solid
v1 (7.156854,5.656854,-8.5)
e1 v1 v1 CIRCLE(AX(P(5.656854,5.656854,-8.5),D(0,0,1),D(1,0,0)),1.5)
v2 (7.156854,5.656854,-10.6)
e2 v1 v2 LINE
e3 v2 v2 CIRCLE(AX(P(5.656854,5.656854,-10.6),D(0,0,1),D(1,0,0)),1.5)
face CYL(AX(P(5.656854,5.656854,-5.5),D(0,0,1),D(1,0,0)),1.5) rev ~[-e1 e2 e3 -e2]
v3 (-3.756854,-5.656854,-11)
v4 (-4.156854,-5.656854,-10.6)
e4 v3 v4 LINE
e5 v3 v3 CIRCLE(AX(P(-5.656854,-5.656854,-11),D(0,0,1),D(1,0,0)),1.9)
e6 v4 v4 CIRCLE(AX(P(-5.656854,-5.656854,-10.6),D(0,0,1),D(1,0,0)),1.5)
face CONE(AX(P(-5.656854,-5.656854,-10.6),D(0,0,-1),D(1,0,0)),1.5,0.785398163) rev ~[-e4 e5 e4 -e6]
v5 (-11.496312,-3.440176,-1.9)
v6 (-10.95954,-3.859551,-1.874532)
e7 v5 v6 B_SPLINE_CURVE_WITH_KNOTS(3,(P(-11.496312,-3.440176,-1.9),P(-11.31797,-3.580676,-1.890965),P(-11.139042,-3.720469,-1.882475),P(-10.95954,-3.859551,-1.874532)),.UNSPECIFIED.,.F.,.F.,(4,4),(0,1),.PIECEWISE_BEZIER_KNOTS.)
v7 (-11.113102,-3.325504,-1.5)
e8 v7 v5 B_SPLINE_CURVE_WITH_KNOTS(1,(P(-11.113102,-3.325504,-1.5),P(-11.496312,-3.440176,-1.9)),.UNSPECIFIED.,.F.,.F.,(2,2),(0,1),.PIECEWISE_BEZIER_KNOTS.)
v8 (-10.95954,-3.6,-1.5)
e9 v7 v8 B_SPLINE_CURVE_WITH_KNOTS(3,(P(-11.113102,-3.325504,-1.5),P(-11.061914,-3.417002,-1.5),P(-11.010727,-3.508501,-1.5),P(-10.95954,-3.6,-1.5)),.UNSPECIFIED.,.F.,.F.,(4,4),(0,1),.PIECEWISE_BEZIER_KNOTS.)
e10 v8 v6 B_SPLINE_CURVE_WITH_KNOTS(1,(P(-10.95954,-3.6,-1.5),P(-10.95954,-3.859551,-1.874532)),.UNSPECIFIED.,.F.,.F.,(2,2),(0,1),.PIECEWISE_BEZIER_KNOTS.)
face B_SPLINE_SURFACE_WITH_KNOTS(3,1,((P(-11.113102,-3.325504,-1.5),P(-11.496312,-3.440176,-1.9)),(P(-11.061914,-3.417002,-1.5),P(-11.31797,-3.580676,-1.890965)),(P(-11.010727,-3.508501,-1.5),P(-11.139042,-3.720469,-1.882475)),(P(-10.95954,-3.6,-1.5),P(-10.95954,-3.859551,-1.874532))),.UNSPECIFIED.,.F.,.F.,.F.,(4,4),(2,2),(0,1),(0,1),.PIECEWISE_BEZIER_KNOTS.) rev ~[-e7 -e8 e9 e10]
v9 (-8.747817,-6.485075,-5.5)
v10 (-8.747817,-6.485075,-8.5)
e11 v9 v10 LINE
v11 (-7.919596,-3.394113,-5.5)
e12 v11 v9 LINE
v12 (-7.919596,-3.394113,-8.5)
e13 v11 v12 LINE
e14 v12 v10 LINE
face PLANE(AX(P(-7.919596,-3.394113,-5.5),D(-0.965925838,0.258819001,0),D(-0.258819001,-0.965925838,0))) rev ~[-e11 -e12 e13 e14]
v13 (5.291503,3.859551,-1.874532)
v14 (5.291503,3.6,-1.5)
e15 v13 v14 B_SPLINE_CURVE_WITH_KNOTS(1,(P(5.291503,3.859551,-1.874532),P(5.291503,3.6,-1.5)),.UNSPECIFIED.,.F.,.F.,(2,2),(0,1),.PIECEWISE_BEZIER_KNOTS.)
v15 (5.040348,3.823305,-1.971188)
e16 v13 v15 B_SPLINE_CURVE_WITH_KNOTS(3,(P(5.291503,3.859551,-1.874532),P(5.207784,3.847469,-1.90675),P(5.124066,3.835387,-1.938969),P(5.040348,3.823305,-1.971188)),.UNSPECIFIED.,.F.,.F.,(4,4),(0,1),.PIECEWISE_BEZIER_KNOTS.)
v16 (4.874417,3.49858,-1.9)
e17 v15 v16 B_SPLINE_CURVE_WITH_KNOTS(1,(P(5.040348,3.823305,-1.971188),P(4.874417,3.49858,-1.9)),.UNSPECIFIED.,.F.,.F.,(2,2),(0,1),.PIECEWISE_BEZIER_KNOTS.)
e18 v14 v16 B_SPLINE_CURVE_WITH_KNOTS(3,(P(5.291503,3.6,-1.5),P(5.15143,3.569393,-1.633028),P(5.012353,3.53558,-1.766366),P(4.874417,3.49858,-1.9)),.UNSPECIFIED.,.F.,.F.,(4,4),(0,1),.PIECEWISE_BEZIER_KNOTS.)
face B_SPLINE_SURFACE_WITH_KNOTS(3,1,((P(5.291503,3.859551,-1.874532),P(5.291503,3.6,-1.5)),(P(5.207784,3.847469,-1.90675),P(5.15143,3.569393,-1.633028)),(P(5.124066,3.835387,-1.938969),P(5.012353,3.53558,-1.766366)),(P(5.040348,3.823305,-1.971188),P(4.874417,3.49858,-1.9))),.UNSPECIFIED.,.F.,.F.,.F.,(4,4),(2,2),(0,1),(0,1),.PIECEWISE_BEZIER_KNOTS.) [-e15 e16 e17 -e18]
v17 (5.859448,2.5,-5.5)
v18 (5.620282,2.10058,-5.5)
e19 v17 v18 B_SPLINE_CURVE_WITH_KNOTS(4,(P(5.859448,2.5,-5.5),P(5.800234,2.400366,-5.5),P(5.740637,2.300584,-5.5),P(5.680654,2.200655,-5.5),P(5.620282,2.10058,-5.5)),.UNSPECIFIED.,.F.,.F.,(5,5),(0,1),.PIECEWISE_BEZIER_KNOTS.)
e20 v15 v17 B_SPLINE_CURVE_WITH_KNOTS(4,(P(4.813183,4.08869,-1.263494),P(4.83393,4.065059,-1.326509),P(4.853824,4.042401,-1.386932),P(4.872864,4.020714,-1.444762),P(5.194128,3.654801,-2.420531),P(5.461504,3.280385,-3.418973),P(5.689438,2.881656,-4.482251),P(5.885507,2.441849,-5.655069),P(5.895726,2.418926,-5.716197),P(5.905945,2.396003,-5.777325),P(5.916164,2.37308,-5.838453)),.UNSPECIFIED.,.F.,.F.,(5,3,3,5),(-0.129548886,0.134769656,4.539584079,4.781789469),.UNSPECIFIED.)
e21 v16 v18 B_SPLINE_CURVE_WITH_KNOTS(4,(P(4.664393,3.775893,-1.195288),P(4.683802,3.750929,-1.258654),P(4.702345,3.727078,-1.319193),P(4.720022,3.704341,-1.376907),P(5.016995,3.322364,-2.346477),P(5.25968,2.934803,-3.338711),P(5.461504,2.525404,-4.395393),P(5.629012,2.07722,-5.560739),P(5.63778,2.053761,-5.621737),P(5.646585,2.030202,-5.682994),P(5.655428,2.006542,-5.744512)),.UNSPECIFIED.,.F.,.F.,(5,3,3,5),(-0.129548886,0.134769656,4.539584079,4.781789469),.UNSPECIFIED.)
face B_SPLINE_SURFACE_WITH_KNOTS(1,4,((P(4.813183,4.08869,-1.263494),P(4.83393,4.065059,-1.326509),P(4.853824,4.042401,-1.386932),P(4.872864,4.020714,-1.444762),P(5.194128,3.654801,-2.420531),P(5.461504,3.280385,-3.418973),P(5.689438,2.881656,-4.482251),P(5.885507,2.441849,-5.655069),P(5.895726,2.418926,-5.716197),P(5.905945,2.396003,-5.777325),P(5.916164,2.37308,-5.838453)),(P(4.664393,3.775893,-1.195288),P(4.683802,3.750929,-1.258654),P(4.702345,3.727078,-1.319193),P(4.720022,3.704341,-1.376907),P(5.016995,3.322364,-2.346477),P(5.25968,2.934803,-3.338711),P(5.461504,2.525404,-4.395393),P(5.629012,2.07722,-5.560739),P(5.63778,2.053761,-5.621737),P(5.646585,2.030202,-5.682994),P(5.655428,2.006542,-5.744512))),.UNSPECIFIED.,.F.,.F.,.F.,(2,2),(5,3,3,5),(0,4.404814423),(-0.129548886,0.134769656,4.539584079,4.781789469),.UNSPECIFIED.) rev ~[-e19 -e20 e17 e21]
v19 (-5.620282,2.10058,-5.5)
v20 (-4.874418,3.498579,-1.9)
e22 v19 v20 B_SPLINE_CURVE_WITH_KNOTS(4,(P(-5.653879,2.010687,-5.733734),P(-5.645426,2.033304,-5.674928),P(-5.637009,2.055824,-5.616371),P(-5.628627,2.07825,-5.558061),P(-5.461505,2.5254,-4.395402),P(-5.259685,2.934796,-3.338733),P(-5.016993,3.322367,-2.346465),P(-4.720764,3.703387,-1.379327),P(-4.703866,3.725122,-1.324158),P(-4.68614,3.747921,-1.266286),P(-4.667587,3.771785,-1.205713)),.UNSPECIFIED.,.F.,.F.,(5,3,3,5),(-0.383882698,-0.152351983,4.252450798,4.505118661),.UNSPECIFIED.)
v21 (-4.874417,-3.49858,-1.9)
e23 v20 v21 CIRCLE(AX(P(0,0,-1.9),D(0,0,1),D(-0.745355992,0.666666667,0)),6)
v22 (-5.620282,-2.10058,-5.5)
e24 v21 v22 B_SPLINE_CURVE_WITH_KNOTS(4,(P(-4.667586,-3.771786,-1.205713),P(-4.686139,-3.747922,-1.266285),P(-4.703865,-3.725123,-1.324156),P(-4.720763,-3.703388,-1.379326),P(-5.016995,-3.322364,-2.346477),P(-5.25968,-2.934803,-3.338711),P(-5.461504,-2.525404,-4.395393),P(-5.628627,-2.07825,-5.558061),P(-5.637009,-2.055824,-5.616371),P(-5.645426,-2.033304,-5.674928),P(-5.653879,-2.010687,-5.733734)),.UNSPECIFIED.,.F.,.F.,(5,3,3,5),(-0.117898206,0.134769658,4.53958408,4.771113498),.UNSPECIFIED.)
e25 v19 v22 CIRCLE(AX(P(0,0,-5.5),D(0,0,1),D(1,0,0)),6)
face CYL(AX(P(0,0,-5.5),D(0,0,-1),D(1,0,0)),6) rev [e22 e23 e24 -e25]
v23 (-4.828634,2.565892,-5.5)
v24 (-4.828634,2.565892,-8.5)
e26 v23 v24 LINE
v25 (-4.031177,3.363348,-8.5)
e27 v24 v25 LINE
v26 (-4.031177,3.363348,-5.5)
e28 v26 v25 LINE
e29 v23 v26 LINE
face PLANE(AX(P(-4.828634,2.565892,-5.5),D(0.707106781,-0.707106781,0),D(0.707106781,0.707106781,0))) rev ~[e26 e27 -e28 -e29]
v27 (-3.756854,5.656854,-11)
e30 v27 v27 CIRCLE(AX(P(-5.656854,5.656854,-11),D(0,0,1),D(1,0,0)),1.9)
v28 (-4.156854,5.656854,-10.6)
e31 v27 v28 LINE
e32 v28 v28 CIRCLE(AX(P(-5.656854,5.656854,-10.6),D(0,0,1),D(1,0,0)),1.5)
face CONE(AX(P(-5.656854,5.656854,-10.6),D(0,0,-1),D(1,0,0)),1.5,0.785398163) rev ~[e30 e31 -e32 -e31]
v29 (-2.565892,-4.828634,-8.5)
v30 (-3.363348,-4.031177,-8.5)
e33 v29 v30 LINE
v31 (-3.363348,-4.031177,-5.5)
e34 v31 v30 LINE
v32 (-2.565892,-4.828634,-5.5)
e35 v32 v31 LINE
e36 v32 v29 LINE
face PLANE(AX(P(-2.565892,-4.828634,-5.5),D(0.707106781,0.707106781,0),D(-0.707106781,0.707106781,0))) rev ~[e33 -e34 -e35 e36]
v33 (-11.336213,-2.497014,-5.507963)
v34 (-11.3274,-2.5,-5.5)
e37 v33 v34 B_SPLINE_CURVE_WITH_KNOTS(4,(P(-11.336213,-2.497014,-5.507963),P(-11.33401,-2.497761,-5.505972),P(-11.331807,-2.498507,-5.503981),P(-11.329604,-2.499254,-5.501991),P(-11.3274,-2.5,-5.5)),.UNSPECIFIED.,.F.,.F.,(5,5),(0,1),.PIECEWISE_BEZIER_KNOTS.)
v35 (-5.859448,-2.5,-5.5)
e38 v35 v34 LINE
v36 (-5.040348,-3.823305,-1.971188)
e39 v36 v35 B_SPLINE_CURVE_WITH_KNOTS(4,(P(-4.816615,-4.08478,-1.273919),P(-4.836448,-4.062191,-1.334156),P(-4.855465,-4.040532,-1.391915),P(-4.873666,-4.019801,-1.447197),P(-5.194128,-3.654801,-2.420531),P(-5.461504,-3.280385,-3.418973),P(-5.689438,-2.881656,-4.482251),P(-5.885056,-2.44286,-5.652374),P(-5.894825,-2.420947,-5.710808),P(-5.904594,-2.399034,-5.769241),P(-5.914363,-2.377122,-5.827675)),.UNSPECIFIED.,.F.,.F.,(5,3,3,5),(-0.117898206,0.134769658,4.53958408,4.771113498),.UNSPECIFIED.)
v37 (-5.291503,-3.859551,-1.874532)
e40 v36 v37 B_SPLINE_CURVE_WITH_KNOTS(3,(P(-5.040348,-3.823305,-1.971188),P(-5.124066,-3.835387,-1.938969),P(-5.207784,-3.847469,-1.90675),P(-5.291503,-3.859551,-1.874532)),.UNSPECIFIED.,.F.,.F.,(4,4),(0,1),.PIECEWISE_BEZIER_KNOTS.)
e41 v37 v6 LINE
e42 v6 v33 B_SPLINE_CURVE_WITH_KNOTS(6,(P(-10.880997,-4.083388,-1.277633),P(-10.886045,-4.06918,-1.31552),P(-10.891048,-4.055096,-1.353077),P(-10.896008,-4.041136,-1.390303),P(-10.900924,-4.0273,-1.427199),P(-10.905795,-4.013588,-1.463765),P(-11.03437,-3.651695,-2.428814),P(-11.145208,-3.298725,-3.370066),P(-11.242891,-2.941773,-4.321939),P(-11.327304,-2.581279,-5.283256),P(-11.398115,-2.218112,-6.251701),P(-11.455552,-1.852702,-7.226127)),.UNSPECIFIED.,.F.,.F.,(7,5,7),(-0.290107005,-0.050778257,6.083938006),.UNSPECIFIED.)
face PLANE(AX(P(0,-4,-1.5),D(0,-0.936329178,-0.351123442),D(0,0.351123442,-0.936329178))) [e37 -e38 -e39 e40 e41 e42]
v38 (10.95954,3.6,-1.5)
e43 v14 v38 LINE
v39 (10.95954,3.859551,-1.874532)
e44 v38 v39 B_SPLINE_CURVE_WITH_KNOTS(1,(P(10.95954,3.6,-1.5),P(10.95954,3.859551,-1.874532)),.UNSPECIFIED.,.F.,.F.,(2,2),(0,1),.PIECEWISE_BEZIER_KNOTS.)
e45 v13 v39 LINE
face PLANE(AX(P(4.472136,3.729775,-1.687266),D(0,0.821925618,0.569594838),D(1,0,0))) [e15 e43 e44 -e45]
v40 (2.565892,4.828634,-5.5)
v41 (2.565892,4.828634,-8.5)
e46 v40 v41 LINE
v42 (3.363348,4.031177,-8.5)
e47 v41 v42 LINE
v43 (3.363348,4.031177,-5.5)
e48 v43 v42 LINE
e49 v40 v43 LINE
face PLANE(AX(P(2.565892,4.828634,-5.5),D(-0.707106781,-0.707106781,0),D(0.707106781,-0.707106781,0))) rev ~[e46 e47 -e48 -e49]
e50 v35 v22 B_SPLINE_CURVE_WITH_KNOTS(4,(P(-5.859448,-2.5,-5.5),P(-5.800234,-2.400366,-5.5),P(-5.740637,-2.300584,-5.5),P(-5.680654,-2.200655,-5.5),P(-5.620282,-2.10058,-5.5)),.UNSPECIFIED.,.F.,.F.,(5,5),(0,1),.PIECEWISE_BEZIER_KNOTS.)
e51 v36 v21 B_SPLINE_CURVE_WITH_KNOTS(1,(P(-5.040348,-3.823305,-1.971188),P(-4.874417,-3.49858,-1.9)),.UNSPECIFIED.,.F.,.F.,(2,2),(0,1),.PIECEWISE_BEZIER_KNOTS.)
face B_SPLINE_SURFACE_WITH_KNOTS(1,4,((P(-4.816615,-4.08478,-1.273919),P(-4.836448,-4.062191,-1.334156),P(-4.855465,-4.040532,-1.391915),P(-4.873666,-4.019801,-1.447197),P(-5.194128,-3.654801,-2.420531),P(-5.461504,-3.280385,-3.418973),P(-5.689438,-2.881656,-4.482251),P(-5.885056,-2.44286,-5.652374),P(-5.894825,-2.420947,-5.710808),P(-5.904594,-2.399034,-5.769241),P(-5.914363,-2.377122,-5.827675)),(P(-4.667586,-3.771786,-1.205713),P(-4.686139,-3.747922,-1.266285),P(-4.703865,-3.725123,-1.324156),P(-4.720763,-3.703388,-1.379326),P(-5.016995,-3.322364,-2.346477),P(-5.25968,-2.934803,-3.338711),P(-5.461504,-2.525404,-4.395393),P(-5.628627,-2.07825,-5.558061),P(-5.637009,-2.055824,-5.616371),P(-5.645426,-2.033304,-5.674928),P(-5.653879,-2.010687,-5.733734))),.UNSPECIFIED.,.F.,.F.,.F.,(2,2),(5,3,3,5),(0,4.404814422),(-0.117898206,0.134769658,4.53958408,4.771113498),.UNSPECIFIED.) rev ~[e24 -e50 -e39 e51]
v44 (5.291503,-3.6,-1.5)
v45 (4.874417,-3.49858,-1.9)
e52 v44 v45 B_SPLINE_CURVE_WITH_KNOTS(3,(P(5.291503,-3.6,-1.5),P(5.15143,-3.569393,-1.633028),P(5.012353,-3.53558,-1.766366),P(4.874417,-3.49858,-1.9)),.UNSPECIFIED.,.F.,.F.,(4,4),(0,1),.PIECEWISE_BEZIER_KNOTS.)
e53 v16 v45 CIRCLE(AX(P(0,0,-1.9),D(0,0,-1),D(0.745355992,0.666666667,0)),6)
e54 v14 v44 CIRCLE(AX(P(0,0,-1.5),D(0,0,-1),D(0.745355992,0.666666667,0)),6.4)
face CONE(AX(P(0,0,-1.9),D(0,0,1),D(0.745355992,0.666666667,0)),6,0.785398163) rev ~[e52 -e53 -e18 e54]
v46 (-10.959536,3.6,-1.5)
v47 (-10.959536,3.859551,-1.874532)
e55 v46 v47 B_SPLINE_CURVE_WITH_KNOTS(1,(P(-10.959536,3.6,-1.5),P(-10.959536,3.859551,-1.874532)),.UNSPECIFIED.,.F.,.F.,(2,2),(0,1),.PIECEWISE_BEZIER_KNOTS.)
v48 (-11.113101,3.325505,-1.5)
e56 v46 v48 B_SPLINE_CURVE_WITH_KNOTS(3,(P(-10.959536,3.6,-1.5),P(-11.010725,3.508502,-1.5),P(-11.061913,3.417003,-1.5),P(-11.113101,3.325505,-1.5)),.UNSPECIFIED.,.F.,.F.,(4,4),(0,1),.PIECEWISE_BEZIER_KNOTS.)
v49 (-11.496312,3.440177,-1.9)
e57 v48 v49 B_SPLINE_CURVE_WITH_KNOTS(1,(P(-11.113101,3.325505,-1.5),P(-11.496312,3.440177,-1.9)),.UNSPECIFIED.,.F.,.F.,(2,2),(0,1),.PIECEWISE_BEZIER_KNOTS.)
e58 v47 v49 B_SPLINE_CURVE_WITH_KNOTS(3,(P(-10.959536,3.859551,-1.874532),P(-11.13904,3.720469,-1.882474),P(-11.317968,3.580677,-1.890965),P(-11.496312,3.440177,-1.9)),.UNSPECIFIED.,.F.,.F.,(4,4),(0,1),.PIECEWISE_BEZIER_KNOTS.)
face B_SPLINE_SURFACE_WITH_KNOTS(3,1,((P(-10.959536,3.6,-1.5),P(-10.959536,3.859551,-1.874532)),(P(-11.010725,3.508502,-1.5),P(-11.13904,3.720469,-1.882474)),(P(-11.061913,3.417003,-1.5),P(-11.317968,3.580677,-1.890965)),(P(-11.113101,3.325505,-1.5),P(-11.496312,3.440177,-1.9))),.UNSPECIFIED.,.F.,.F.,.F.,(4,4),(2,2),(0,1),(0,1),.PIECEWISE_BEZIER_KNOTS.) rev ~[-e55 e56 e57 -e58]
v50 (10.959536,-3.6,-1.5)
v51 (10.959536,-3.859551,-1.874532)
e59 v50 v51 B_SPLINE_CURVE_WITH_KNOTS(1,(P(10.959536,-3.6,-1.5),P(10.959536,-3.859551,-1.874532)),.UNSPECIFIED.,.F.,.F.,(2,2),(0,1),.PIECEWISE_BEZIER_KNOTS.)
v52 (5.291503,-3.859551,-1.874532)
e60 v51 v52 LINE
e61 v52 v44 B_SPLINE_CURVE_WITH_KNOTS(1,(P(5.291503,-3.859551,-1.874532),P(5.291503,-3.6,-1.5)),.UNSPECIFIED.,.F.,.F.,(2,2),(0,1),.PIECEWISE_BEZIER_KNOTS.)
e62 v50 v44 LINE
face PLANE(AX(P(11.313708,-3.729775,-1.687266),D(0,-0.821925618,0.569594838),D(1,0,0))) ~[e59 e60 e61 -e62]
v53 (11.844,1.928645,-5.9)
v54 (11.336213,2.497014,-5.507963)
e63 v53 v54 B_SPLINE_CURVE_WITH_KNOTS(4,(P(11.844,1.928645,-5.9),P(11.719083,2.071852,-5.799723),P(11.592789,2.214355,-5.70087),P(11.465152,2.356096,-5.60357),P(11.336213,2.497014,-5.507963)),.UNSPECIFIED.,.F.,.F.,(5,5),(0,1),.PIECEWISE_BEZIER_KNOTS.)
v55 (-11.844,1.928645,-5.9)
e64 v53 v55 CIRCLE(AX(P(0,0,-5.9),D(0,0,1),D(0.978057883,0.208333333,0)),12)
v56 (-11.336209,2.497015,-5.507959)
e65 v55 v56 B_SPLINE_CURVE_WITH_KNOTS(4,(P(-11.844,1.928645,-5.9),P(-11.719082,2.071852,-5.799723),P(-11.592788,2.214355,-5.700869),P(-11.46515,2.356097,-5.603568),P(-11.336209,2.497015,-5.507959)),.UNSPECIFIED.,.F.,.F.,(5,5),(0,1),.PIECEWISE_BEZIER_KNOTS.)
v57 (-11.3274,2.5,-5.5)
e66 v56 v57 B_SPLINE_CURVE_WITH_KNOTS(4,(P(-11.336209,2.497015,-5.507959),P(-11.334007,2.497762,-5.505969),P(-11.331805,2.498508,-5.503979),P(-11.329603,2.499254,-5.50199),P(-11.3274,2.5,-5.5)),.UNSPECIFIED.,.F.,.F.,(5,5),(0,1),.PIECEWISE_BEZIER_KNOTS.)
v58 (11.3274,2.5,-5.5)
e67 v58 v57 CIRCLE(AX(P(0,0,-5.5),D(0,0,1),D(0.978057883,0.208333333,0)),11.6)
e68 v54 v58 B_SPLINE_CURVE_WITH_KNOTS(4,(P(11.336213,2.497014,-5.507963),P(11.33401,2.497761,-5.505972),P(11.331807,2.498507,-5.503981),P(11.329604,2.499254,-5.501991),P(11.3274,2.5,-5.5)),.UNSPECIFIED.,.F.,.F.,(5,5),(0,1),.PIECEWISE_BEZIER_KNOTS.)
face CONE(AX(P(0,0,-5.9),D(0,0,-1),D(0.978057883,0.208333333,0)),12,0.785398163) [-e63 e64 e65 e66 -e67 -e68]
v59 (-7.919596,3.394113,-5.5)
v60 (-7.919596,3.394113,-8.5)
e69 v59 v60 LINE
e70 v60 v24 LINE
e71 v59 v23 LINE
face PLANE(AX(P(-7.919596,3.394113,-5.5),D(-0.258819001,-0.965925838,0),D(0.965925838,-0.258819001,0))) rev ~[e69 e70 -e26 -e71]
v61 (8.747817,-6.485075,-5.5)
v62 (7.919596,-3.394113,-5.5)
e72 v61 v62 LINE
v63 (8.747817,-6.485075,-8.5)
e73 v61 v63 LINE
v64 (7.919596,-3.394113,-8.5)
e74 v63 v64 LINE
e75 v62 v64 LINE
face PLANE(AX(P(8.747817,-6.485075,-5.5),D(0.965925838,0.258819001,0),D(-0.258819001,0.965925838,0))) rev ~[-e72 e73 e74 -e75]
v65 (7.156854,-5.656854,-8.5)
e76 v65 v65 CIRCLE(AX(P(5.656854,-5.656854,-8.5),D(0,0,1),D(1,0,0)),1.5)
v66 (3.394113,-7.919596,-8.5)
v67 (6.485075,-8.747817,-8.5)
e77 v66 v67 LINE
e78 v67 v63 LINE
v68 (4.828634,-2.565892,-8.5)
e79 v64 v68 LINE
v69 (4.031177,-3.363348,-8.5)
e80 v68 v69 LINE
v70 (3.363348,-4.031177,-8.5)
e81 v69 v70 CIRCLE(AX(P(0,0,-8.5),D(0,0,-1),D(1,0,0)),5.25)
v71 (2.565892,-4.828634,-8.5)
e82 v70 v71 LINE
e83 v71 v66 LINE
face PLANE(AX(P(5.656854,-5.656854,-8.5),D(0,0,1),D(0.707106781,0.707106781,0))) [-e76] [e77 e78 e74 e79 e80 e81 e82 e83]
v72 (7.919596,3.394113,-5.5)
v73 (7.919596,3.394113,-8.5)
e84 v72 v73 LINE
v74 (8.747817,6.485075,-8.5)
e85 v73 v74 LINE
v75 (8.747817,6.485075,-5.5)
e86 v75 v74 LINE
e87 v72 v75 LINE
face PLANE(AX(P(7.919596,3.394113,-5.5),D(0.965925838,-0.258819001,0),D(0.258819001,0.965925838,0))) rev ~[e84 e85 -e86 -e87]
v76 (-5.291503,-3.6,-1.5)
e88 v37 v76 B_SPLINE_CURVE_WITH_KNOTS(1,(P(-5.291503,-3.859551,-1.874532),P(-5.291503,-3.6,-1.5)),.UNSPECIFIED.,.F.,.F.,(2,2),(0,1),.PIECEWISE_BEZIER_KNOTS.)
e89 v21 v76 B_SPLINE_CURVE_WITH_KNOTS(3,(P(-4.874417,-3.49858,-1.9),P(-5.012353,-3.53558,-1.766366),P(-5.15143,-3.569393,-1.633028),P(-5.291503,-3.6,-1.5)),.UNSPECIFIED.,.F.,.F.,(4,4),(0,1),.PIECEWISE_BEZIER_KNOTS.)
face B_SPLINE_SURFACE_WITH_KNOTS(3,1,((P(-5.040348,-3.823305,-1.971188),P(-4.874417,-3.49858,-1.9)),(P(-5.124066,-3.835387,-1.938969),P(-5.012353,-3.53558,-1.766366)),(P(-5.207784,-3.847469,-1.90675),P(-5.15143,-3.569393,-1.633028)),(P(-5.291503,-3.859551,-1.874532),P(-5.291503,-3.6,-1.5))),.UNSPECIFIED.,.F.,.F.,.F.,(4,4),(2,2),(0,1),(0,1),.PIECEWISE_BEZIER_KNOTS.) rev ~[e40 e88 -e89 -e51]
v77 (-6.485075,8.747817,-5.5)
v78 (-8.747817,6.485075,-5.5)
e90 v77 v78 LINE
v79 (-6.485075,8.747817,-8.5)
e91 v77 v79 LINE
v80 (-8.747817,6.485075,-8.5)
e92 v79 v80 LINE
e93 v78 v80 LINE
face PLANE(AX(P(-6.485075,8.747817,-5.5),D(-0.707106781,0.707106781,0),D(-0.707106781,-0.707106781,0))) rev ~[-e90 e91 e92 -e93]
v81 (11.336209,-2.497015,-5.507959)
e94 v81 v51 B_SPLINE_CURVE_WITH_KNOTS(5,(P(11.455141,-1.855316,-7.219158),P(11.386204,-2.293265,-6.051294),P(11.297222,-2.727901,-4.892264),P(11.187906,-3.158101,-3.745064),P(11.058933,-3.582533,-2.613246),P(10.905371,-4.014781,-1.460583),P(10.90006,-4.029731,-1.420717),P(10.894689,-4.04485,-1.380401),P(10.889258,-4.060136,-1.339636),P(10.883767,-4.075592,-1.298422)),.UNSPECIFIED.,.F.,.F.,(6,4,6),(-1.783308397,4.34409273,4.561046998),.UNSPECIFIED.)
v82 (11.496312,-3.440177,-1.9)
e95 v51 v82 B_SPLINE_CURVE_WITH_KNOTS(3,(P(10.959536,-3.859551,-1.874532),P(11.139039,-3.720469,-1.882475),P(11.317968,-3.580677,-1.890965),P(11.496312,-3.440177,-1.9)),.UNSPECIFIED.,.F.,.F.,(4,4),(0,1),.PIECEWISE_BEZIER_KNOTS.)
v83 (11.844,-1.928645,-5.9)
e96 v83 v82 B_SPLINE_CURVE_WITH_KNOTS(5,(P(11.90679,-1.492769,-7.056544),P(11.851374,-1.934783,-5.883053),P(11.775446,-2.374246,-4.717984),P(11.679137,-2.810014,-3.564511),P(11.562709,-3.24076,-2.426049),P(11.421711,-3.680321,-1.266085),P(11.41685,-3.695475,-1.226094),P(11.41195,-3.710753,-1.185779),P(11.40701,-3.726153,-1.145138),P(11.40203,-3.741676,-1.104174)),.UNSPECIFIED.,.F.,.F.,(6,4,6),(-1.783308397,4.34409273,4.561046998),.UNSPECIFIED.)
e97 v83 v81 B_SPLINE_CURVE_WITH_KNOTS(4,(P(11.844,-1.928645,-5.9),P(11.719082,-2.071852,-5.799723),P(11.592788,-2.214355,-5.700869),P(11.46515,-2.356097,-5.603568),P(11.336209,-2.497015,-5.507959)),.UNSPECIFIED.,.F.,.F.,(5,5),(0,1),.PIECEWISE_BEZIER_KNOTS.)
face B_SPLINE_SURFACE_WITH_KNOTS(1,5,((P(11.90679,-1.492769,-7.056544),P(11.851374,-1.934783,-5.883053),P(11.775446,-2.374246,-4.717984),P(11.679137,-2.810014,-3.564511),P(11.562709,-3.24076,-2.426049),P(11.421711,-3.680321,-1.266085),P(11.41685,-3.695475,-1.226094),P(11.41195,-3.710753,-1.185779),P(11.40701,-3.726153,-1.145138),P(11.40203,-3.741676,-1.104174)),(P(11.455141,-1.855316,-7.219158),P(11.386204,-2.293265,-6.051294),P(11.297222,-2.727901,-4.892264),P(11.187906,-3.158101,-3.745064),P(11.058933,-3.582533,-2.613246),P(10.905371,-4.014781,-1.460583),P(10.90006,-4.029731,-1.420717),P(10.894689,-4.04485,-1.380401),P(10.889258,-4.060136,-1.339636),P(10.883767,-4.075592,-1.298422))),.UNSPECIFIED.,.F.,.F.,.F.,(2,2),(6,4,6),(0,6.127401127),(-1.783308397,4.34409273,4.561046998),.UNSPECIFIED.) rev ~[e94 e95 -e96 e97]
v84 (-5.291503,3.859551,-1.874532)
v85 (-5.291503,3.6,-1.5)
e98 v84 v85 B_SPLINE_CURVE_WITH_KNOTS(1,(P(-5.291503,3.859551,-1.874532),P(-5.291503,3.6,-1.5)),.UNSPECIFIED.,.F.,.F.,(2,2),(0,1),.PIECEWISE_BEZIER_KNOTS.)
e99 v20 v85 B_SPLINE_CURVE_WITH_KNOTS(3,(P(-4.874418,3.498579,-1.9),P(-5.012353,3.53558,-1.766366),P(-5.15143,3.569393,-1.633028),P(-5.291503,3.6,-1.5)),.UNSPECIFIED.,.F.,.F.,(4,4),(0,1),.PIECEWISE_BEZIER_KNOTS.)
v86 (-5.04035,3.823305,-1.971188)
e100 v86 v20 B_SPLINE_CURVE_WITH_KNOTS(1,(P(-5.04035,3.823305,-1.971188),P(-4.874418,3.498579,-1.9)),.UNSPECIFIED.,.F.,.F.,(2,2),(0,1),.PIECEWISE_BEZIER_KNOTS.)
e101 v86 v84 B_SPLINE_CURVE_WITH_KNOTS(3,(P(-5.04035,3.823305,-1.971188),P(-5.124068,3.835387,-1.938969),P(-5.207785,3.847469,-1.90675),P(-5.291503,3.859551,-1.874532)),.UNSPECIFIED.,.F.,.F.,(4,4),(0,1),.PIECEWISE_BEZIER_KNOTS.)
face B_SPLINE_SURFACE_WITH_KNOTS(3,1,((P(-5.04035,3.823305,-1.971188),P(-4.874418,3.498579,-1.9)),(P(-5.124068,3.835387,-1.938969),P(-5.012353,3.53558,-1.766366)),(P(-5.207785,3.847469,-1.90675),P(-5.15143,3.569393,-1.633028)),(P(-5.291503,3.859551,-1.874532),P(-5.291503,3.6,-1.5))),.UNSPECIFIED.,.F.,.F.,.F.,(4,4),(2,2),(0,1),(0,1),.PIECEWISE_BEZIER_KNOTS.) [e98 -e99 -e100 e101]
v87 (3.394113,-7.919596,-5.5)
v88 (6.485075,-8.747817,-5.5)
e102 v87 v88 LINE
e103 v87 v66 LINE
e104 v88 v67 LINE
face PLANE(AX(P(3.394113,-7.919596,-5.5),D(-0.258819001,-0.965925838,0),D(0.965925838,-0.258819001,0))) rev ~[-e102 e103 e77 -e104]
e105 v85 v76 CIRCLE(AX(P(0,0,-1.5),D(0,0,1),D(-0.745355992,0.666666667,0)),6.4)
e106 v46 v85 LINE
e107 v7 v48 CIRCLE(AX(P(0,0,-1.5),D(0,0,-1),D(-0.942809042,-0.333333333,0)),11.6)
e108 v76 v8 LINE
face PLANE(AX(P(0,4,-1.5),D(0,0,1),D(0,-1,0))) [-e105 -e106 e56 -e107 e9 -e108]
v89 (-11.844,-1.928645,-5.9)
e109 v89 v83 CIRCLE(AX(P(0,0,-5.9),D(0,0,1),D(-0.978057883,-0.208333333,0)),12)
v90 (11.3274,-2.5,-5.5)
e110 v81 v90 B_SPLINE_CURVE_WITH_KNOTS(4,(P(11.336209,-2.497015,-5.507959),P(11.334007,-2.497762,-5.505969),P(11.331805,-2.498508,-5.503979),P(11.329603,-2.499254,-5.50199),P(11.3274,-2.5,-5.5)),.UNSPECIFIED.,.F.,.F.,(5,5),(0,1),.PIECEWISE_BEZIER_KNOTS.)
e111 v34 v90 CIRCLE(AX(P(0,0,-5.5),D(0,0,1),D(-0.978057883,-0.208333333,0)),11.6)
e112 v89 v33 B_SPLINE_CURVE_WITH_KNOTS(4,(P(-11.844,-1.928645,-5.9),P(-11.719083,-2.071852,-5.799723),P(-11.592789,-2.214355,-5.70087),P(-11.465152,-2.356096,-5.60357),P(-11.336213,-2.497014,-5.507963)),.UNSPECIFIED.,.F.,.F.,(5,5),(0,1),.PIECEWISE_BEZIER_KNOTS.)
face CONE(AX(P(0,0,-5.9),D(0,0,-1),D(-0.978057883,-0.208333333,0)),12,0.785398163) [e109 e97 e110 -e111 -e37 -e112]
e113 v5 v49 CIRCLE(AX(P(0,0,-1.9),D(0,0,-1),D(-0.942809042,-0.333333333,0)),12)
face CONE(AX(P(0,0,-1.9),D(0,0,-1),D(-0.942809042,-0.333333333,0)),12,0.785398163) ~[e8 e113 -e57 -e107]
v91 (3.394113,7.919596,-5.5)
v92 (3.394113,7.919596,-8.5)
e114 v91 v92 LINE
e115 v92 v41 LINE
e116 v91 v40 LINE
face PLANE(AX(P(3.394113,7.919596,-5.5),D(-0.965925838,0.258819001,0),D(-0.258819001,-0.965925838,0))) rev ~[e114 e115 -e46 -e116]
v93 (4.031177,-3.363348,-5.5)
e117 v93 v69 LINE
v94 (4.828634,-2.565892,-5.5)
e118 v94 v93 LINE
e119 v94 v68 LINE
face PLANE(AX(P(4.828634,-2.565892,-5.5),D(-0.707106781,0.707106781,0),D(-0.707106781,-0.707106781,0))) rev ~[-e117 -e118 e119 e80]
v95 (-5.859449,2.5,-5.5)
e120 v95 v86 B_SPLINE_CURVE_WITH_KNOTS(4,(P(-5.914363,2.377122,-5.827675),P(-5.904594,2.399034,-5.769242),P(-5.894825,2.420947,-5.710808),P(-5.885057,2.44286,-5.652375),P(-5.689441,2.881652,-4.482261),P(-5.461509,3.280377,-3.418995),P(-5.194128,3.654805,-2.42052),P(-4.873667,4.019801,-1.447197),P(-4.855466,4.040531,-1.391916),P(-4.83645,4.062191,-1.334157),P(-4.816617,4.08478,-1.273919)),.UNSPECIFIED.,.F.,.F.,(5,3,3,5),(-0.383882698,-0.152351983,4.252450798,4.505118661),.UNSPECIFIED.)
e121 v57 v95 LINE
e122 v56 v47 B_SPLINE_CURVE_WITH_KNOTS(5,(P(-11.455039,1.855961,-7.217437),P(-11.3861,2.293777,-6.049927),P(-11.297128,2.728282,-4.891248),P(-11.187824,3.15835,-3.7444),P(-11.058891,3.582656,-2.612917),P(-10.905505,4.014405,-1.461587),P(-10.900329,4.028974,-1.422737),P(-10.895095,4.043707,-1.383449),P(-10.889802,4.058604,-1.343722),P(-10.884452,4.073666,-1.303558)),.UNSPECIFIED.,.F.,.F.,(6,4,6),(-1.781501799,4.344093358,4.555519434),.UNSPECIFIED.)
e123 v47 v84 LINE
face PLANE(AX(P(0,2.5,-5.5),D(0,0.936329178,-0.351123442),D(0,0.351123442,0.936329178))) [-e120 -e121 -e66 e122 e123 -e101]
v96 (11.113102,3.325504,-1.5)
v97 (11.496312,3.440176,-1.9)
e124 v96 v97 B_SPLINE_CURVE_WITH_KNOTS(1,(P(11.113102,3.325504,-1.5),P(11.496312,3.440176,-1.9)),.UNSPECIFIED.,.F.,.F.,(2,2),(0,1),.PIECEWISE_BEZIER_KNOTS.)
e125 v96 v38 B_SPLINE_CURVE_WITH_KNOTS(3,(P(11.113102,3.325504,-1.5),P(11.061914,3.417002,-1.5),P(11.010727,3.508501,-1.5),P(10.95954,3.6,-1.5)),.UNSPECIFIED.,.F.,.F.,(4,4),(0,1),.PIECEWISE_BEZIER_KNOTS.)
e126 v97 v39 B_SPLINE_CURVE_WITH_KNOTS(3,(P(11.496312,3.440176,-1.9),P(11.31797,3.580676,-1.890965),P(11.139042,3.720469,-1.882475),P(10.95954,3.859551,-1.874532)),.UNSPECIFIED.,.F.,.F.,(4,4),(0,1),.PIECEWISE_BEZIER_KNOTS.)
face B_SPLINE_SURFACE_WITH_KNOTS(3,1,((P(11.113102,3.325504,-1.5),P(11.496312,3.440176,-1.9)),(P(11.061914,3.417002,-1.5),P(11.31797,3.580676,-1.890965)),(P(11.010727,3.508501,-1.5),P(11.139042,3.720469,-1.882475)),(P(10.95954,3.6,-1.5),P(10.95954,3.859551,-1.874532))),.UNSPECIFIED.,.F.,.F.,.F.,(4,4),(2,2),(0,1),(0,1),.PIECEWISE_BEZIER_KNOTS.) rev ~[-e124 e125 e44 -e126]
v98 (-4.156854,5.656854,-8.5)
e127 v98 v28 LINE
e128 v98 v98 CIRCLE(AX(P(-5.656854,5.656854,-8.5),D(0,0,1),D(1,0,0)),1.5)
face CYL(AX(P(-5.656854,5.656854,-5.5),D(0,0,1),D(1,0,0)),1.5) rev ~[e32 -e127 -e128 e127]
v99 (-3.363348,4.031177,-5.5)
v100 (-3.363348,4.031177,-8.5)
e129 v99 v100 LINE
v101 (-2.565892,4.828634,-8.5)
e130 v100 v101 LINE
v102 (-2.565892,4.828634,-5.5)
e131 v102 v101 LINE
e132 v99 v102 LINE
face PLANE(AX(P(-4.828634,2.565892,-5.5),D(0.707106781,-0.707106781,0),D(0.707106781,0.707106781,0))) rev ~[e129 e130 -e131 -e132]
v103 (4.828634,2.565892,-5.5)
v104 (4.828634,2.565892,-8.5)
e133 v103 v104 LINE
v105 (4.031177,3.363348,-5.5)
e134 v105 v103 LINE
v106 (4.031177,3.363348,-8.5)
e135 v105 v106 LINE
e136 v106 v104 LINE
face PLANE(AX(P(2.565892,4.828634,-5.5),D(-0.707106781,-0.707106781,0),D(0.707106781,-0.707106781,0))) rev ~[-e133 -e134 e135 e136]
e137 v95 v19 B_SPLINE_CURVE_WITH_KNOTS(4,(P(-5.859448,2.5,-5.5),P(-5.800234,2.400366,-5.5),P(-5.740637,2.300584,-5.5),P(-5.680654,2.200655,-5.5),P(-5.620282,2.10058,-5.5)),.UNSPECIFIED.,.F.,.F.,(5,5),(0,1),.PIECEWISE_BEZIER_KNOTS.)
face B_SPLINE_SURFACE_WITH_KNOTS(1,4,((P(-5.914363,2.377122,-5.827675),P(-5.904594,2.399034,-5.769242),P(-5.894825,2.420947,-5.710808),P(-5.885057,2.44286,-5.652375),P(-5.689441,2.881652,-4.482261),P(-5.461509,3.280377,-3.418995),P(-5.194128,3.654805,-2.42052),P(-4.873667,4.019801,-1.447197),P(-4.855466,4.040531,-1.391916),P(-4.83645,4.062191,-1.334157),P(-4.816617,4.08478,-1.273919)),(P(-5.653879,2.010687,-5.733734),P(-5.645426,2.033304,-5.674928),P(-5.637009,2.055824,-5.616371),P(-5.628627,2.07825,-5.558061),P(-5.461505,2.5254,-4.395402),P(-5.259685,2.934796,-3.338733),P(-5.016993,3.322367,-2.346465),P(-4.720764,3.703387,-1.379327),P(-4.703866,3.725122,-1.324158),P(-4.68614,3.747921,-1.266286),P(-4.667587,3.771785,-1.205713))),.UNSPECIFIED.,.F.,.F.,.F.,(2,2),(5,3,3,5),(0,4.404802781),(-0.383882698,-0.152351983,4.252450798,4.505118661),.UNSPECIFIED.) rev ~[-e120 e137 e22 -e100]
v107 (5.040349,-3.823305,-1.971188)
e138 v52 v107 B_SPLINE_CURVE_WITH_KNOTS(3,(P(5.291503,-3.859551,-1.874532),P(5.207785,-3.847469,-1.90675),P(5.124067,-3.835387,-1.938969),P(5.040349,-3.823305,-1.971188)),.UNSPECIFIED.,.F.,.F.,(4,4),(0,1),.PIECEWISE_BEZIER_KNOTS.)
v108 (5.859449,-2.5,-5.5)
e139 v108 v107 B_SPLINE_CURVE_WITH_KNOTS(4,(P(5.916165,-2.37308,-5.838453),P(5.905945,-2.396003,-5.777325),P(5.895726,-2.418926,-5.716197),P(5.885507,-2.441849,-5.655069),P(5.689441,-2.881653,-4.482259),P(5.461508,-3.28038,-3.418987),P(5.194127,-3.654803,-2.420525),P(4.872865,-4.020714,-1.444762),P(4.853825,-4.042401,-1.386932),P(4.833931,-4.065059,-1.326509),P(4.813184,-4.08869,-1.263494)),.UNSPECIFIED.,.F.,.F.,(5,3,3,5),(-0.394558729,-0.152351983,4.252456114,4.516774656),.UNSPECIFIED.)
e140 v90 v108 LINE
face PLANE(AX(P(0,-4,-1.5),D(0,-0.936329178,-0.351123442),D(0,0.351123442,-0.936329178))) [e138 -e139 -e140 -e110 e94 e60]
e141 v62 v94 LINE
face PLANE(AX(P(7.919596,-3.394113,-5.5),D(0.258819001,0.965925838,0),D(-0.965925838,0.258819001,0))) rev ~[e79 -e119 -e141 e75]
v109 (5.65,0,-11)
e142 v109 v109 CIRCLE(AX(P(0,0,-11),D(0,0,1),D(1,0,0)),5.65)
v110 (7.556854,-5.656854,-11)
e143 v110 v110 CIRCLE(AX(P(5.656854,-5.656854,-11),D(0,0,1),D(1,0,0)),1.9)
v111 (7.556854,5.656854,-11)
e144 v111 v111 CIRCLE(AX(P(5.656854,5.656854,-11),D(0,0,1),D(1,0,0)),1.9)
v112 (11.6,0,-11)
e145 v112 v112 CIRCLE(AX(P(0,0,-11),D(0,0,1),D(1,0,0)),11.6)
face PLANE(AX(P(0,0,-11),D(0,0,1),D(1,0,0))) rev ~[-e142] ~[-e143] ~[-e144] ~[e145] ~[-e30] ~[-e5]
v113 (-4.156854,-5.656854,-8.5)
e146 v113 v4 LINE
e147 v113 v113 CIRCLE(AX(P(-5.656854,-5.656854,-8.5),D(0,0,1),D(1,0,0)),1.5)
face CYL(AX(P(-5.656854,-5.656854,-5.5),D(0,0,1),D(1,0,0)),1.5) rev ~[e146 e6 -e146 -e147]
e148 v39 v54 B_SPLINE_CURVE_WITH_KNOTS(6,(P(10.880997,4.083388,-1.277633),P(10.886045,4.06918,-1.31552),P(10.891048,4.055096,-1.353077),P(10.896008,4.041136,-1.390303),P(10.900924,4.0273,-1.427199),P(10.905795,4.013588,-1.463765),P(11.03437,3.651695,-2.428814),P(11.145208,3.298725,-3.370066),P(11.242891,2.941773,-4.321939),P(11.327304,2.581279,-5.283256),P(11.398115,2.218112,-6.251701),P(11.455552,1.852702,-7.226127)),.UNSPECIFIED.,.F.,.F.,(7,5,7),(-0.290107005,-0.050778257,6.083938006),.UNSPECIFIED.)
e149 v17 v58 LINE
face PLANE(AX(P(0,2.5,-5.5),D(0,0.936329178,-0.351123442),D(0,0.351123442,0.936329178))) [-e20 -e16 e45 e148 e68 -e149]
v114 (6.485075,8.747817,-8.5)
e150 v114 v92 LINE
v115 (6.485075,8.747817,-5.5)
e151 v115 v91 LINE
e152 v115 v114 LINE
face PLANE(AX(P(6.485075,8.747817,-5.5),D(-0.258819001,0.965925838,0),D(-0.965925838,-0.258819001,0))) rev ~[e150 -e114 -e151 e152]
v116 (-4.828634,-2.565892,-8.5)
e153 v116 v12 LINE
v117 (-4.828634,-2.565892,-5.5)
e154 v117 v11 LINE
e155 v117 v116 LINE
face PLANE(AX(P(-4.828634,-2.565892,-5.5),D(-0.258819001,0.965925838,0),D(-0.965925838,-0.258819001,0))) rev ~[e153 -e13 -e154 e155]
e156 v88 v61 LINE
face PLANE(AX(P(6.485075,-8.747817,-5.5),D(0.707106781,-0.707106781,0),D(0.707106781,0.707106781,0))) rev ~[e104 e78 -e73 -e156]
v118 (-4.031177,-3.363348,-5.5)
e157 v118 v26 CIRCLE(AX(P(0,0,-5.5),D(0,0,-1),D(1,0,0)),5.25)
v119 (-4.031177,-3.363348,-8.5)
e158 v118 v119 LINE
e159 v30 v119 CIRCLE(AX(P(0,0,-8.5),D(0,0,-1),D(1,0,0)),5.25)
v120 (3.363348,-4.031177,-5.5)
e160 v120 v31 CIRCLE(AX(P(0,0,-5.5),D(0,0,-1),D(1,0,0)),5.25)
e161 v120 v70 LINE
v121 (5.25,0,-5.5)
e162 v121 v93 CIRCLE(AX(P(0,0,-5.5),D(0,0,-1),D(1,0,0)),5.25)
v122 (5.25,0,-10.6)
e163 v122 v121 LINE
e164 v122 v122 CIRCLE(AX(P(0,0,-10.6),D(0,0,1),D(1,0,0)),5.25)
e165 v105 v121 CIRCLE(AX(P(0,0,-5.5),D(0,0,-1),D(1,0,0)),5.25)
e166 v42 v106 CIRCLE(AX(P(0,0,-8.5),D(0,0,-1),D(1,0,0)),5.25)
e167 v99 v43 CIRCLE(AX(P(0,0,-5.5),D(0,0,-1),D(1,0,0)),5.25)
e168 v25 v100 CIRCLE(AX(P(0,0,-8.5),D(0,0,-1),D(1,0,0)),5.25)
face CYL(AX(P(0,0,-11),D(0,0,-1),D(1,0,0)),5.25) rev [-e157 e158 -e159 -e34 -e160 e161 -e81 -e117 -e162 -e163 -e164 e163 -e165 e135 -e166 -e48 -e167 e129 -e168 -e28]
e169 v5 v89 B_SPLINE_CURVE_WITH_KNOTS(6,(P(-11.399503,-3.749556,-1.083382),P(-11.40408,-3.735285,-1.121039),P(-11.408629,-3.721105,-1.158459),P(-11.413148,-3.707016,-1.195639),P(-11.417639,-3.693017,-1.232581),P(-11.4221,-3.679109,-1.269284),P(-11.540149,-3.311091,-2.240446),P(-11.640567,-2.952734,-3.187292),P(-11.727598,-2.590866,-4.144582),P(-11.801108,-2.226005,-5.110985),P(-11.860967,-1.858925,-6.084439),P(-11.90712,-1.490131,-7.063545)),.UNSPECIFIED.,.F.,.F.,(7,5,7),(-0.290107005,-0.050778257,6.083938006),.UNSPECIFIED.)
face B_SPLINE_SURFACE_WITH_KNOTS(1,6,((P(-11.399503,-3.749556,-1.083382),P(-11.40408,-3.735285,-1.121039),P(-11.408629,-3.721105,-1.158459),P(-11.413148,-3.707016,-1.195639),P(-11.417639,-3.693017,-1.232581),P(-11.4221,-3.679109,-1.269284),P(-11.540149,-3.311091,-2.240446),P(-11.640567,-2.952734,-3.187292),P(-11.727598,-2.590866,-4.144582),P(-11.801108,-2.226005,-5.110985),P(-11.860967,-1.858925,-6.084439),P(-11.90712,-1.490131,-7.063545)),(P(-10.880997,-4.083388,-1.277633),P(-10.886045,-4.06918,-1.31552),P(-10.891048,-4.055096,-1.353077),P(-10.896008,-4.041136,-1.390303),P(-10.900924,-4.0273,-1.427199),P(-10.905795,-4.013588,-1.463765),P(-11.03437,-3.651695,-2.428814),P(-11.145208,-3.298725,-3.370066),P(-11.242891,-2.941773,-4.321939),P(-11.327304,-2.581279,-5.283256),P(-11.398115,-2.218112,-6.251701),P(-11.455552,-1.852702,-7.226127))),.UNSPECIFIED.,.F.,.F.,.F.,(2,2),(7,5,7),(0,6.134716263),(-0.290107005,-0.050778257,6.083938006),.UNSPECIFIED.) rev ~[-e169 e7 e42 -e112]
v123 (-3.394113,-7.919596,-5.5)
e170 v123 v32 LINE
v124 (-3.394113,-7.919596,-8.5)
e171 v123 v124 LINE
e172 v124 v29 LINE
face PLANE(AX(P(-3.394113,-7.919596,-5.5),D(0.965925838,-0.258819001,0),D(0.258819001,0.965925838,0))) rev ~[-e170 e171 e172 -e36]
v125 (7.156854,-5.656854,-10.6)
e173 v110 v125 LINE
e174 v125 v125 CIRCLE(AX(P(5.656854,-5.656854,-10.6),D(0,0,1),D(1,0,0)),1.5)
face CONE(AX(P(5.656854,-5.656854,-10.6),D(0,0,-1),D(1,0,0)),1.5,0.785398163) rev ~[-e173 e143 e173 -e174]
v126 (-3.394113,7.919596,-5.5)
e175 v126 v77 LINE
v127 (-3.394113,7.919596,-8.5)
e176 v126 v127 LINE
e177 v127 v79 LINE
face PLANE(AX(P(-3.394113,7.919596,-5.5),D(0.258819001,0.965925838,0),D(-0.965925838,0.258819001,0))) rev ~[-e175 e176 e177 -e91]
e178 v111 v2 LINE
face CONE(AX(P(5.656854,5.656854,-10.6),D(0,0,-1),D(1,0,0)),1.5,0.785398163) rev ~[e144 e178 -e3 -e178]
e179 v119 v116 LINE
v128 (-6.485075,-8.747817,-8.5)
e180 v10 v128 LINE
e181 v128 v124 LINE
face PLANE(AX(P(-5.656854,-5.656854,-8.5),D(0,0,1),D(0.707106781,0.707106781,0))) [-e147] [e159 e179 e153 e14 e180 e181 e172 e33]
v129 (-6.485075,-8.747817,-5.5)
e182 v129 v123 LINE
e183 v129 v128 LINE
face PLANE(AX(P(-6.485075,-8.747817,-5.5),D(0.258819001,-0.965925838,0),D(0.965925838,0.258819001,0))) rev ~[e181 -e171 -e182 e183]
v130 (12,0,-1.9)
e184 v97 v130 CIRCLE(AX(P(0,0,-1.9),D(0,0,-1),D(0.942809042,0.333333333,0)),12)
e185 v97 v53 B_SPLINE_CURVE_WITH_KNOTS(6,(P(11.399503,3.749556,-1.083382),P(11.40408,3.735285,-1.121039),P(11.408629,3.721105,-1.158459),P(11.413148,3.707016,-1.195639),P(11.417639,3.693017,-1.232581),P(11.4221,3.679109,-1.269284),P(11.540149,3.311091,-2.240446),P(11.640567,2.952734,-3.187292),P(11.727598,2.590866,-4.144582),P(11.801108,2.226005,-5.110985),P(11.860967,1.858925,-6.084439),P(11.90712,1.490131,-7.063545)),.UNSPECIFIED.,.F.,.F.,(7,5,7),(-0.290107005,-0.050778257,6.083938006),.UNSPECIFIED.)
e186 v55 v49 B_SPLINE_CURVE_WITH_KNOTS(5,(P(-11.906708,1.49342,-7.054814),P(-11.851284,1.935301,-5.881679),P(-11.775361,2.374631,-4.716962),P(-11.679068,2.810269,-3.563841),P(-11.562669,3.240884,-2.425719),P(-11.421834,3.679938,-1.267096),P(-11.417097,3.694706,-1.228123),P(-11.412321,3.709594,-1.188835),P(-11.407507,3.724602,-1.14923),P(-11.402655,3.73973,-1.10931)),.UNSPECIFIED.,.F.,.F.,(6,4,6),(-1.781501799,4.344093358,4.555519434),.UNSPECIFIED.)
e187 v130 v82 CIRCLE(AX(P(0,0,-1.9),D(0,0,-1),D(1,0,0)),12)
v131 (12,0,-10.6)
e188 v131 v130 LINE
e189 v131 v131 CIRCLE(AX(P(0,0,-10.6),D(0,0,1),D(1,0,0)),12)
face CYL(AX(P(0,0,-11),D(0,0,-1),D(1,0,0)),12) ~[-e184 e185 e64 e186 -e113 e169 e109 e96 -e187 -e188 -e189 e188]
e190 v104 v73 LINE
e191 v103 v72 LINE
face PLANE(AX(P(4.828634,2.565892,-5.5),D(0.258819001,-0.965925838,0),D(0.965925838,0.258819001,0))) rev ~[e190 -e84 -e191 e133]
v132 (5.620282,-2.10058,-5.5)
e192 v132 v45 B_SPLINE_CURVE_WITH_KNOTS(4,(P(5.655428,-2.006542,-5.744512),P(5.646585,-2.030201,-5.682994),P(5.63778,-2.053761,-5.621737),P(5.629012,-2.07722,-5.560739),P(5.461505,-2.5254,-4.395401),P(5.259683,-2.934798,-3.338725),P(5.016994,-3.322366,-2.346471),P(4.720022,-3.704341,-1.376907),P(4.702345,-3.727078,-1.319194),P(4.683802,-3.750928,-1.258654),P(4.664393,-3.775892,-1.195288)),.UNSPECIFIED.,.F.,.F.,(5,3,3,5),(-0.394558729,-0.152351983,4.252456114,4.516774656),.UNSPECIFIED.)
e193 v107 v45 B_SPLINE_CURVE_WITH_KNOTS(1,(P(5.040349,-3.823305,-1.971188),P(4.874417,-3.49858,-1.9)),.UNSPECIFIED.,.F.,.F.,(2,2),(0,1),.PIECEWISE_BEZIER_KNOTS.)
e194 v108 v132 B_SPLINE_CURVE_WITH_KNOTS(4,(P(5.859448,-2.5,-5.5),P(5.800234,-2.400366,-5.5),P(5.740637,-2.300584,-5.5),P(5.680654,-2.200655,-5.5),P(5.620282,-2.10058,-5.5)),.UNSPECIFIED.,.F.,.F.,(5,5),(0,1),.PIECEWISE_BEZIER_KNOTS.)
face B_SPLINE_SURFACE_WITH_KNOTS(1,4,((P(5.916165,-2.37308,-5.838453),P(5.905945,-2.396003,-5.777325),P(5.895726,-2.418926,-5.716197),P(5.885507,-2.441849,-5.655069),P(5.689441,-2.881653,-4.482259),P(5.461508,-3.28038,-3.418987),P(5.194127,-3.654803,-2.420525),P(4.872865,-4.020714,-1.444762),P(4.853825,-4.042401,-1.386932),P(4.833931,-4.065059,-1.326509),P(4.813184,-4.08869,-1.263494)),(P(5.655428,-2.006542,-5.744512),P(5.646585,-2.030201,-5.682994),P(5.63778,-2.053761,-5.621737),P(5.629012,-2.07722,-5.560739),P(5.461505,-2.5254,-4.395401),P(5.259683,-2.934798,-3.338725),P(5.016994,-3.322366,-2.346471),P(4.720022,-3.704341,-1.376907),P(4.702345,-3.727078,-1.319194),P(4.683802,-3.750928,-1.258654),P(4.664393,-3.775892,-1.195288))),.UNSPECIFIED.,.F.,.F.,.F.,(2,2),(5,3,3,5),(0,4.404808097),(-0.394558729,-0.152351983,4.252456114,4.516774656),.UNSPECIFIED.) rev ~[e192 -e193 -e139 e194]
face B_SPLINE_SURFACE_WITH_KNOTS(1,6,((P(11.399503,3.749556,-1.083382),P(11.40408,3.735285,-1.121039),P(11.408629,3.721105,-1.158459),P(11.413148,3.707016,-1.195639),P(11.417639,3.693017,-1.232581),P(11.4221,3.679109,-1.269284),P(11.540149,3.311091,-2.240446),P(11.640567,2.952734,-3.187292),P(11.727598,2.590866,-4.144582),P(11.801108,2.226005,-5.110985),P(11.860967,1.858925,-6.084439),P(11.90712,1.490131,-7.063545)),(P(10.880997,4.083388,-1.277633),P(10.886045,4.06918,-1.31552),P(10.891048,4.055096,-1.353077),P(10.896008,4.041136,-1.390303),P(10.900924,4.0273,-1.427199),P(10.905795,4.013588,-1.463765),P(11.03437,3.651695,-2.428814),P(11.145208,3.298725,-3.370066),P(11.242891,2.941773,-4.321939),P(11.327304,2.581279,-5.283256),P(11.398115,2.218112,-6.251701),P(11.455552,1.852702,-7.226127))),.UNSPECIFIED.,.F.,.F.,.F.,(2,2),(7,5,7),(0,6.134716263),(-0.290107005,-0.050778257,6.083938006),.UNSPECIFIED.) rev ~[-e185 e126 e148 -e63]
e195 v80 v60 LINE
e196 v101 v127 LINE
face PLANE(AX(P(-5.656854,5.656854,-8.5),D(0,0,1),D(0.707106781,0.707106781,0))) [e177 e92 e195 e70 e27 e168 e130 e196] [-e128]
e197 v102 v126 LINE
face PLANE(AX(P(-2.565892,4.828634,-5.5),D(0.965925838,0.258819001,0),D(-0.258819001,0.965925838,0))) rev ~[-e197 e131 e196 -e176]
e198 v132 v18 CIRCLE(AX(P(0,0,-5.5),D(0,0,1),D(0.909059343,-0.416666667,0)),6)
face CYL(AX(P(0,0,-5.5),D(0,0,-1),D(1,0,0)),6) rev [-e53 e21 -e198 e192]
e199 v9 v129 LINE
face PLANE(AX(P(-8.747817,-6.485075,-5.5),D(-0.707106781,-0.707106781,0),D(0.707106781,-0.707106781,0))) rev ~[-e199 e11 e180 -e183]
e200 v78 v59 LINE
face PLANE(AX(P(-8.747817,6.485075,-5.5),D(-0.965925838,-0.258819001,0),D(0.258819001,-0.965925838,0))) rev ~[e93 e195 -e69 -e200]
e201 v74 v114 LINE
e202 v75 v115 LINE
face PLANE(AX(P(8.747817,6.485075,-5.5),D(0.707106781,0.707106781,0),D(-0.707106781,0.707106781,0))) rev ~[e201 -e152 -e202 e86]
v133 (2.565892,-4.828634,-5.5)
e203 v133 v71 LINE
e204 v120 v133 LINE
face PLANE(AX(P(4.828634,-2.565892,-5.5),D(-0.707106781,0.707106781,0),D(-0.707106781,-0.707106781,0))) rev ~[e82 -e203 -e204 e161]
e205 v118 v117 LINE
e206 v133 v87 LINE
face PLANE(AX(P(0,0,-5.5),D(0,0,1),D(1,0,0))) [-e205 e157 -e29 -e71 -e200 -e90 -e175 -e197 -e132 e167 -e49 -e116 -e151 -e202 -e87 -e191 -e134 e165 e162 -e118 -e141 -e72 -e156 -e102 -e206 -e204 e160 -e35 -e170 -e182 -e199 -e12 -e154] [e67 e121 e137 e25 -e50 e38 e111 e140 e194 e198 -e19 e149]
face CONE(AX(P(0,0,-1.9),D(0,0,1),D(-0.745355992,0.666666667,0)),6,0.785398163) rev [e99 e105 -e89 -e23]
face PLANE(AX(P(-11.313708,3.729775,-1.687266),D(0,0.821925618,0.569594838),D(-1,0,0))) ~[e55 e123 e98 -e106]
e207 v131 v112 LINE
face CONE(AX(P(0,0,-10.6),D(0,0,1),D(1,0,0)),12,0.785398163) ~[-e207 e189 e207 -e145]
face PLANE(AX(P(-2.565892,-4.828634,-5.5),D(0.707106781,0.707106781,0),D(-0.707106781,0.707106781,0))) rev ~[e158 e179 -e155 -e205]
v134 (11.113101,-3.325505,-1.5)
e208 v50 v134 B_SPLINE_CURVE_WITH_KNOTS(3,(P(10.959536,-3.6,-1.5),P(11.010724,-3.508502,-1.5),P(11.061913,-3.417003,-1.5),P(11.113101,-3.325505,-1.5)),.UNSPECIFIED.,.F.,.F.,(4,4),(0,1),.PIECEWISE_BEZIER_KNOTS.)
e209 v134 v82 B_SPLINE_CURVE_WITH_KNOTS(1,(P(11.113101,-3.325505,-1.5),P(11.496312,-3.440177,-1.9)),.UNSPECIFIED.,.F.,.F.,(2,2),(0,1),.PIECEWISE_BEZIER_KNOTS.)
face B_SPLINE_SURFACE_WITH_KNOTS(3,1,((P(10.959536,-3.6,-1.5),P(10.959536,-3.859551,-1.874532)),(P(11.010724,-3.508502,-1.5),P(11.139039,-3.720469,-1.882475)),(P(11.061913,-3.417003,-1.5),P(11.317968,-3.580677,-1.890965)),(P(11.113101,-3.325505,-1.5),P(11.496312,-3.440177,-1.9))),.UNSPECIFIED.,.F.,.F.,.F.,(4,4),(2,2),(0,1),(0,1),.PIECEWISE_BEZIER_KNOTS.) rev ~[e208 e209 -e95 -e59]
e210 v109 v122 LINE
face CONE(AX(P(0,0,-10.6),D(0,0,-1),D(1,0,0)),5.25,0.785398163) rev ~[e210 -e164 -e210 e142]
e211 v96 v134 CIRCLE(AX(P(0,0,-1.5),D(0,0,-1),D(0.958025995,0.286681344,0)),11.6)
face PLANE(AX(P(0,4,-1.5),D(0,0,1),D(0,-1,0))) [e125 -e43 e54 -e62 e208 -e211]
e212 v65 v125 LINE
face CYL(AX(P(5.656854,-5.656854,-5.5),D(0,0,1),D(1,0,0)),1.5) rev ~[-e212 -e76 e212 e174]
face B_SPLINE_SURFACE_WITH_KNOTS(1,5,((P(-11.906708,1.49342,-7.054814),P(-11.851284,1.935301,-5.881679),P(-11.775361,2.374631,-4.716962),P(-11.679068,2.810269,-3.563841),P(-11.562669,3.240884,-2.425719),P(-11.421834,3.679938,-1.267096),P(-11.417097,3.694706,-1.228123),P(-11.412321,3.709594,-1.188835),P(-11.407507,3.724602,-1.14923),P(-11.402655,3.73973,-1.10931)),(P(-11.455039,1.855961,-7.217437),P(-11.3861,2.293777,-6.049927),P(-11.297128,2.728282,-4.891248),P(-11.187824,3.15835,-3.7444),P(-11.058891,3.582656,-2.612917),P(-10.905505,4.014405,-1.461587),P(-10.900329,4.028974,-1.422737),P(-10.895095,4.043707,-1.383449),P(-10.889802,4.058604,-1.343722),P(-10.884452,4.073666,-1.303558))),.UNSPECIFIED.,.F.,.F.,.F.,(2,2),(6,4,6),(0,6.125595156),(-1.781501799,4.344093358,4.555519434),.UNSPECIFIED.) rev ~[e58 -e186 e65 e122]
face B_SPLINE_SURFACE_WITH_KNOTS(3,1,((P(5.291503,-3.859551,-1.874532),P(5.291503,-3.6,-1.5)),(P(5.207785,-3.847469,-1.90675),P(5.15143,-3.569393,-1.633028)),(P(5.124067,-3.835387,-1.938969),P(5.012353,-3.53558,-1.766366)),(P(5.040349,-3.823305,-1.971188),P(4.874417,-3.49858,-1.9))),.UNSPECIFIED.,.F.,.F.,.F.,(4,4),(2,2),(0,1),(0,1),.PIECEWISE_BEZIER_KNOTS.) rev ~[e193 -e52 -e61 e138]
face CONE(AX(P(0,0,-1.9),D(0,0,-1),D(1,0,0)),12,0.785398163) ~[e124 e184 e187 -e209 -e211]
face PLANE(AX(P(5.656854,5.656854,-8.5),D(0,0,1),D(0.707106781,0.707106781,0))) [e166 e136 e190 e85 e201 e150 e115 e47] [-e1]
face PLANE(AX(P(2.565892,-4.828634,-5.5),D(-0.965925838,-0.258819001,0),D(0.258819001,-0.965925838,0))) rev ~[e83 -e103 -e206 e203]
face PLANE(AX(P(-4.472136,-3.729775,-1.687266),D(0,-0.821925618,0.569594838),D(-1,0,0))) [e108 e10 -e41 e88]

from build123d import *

# Parameters (mm, degrees)
SKETCH010_R     = 12
SKETCH010_R_2   = 5.25
PAD007_DEPTH    = 5.5
PAD008_DEPTH    = 12
SKETCH012_R     = 6
POCKET003_DEPTH = 4
SKETCH013_R     = 17
SKETCH013_R_2   = 12
POCKET004_DEPTH = 5
SKETCH014_R     = 1.5
POCKET005_DEPTH = 5.501
POCKET006_DEPTH = 3
CHAMFER003_SIZE = 0.4


with BuildPart() as part:
    # Sketch010 → Pad007 (new body)
    with BuildSketch(Plane.XY):
        Circle(SKETCH010_R)
        Circle(SKETCH010_R_2, mode=Mode.SUBTRACT)
    extrude(amount=PAD007_DEPTH)

    # Sketch011 (on DatumPlane) → Pad008 (join, symmetric)
    with BuildSketch(Plane.YZ):
        Polygon((-2.5, 5.5), (2.5, 5.5), (4, 9.5), (-4, 9.5), align=None)
    extrude(amount=PAD008_DEPTH, both=True)

    # Sketch012 (on DatumPlane) → Pocket003 (cut)
    with BuildSketch(Plane.XY.offset(5.5)):
        Circle(SKETCH012_R)
    extrude(amount=POCKET003_DEPTH, mode=Mode.SUBTRACT)

    # Sketch013 (on DatumPlane) → Pocket004 (cut)
    with BuildSketch(Plane.XY.offset(5.5)):
        Circle(SKETCH013_R)
        Circle(SKETCH013_R_2, mode=Mode.SUBTRACT)
    extrude(amount=POCKET004_DEPTH, mode=Mode.SUBTRACT)

    # Sketch014 (on DatumPlane) → Pocket005 (cut, through all)
    with BuildSketch(Plane.XY.offset(5.5)):
        with Locations((-5.656854, 5.656854)):
            Circle(SKETCH014_R)
        with Locations((5.656854, 5.656854)):
            Circle(SKETCH014_R)
        with Locations((-5.656854, -5.656854)):
            Circle(SKETCH014_R)
        with Locations((5.656854, -5.656854)):
            Circle(SKETCH014_R)
    extrude(amount=-POCKET005_DEPTH, mode=Mode.SUBTRACT)

    # Sketch015 (on Face5 of Pocket005) → Pocket006 (cut)
    with BuildSketch(Plane(origin=(0, 0, 5.5), x_dir=(0.707107, 0.707107, 0), z_dir=(0, 0, 1))):
        Polygon((-5.228719, -1.6), (-5.228719, 1.6), (-8, 3.2), (-10.771281, 1.6), (-10.771281, -1.6), (-8, -3.2), align=None)
        Polygon((10.771281, -1.6), (10.771281, 1.6), (8, 3.2), (5.228719, 1.6), (5.228719, -1.6), (8, -3.2), align=None)
        Polygon((1.6, -10.771281), (3.2, -8), (1.6, -5.228719), (-1.6, -5.228719), (-3.2, -8), (-1.6, -10.771281), align=None)
        Polygon((1.6, 5.228719), (3.2, 8), (1.6, 10.771281), (-1.6, 10.771281), (-3.2, 8), (-1.6, 5.228719), align=None)
    extrude(amount=-POCKET006_DEPTH, mode=Mode.SUBTRACT)

    # Chamfer003
    chamfer003_edges = [part.edges().sort_by_distance(p)[0] for p in [
        (-12, 0, 0),
        (-7.156854, -5.656854, 0),
        (-5.25, 0, 0),
        (4.156854, -5.656854, 0),
        (-7.156854, 5.656854, 0),
        (4.156854, 5.656854, 0),
        (-11.55126, 3.250907, 7.502418),
        (-7.892922, 4, 9.5),
        (-11.827183, -2.029224, 9.5),
        (-7.892922, -4, 9.5),
        (-6, 0, 9.5),
        (-11.827183, 2.029224, 9.5),
        (-5.039558, 3.256203, 7.51654),
        (-11.55126, -3.250907, 7.502418),
        (-5.039558, -3.256203, 7.51654),
        (5.605034, -2.140933, 9.5),
        (7.892922, -4, 9.5),
        (11.827183, -2.029224, 9.5),
        (11.827183, 2.029224, 9.5),
        (7.892922, 4, 9.5),
        (5.605034, 2.140933, 9.5),
        (5.039558, -3.256203, 7.51654),
        (11.55126, -3.250907, 7.502418),
        (11.55126, 3.250907, 7.502418),
        (5.039558, 3.256203, 7.51654),
        (0, 12, 5.5),
        (0, -12, 5.5),
    ]]
    chamfer(chamfer003_edges, length=CHAMFER003_SIZE)


with BuildPart() as part_1:
    # Body005 placement: moved
    add(part.part.moved(Location((0, 0, -11))))


solid = part_1.part
